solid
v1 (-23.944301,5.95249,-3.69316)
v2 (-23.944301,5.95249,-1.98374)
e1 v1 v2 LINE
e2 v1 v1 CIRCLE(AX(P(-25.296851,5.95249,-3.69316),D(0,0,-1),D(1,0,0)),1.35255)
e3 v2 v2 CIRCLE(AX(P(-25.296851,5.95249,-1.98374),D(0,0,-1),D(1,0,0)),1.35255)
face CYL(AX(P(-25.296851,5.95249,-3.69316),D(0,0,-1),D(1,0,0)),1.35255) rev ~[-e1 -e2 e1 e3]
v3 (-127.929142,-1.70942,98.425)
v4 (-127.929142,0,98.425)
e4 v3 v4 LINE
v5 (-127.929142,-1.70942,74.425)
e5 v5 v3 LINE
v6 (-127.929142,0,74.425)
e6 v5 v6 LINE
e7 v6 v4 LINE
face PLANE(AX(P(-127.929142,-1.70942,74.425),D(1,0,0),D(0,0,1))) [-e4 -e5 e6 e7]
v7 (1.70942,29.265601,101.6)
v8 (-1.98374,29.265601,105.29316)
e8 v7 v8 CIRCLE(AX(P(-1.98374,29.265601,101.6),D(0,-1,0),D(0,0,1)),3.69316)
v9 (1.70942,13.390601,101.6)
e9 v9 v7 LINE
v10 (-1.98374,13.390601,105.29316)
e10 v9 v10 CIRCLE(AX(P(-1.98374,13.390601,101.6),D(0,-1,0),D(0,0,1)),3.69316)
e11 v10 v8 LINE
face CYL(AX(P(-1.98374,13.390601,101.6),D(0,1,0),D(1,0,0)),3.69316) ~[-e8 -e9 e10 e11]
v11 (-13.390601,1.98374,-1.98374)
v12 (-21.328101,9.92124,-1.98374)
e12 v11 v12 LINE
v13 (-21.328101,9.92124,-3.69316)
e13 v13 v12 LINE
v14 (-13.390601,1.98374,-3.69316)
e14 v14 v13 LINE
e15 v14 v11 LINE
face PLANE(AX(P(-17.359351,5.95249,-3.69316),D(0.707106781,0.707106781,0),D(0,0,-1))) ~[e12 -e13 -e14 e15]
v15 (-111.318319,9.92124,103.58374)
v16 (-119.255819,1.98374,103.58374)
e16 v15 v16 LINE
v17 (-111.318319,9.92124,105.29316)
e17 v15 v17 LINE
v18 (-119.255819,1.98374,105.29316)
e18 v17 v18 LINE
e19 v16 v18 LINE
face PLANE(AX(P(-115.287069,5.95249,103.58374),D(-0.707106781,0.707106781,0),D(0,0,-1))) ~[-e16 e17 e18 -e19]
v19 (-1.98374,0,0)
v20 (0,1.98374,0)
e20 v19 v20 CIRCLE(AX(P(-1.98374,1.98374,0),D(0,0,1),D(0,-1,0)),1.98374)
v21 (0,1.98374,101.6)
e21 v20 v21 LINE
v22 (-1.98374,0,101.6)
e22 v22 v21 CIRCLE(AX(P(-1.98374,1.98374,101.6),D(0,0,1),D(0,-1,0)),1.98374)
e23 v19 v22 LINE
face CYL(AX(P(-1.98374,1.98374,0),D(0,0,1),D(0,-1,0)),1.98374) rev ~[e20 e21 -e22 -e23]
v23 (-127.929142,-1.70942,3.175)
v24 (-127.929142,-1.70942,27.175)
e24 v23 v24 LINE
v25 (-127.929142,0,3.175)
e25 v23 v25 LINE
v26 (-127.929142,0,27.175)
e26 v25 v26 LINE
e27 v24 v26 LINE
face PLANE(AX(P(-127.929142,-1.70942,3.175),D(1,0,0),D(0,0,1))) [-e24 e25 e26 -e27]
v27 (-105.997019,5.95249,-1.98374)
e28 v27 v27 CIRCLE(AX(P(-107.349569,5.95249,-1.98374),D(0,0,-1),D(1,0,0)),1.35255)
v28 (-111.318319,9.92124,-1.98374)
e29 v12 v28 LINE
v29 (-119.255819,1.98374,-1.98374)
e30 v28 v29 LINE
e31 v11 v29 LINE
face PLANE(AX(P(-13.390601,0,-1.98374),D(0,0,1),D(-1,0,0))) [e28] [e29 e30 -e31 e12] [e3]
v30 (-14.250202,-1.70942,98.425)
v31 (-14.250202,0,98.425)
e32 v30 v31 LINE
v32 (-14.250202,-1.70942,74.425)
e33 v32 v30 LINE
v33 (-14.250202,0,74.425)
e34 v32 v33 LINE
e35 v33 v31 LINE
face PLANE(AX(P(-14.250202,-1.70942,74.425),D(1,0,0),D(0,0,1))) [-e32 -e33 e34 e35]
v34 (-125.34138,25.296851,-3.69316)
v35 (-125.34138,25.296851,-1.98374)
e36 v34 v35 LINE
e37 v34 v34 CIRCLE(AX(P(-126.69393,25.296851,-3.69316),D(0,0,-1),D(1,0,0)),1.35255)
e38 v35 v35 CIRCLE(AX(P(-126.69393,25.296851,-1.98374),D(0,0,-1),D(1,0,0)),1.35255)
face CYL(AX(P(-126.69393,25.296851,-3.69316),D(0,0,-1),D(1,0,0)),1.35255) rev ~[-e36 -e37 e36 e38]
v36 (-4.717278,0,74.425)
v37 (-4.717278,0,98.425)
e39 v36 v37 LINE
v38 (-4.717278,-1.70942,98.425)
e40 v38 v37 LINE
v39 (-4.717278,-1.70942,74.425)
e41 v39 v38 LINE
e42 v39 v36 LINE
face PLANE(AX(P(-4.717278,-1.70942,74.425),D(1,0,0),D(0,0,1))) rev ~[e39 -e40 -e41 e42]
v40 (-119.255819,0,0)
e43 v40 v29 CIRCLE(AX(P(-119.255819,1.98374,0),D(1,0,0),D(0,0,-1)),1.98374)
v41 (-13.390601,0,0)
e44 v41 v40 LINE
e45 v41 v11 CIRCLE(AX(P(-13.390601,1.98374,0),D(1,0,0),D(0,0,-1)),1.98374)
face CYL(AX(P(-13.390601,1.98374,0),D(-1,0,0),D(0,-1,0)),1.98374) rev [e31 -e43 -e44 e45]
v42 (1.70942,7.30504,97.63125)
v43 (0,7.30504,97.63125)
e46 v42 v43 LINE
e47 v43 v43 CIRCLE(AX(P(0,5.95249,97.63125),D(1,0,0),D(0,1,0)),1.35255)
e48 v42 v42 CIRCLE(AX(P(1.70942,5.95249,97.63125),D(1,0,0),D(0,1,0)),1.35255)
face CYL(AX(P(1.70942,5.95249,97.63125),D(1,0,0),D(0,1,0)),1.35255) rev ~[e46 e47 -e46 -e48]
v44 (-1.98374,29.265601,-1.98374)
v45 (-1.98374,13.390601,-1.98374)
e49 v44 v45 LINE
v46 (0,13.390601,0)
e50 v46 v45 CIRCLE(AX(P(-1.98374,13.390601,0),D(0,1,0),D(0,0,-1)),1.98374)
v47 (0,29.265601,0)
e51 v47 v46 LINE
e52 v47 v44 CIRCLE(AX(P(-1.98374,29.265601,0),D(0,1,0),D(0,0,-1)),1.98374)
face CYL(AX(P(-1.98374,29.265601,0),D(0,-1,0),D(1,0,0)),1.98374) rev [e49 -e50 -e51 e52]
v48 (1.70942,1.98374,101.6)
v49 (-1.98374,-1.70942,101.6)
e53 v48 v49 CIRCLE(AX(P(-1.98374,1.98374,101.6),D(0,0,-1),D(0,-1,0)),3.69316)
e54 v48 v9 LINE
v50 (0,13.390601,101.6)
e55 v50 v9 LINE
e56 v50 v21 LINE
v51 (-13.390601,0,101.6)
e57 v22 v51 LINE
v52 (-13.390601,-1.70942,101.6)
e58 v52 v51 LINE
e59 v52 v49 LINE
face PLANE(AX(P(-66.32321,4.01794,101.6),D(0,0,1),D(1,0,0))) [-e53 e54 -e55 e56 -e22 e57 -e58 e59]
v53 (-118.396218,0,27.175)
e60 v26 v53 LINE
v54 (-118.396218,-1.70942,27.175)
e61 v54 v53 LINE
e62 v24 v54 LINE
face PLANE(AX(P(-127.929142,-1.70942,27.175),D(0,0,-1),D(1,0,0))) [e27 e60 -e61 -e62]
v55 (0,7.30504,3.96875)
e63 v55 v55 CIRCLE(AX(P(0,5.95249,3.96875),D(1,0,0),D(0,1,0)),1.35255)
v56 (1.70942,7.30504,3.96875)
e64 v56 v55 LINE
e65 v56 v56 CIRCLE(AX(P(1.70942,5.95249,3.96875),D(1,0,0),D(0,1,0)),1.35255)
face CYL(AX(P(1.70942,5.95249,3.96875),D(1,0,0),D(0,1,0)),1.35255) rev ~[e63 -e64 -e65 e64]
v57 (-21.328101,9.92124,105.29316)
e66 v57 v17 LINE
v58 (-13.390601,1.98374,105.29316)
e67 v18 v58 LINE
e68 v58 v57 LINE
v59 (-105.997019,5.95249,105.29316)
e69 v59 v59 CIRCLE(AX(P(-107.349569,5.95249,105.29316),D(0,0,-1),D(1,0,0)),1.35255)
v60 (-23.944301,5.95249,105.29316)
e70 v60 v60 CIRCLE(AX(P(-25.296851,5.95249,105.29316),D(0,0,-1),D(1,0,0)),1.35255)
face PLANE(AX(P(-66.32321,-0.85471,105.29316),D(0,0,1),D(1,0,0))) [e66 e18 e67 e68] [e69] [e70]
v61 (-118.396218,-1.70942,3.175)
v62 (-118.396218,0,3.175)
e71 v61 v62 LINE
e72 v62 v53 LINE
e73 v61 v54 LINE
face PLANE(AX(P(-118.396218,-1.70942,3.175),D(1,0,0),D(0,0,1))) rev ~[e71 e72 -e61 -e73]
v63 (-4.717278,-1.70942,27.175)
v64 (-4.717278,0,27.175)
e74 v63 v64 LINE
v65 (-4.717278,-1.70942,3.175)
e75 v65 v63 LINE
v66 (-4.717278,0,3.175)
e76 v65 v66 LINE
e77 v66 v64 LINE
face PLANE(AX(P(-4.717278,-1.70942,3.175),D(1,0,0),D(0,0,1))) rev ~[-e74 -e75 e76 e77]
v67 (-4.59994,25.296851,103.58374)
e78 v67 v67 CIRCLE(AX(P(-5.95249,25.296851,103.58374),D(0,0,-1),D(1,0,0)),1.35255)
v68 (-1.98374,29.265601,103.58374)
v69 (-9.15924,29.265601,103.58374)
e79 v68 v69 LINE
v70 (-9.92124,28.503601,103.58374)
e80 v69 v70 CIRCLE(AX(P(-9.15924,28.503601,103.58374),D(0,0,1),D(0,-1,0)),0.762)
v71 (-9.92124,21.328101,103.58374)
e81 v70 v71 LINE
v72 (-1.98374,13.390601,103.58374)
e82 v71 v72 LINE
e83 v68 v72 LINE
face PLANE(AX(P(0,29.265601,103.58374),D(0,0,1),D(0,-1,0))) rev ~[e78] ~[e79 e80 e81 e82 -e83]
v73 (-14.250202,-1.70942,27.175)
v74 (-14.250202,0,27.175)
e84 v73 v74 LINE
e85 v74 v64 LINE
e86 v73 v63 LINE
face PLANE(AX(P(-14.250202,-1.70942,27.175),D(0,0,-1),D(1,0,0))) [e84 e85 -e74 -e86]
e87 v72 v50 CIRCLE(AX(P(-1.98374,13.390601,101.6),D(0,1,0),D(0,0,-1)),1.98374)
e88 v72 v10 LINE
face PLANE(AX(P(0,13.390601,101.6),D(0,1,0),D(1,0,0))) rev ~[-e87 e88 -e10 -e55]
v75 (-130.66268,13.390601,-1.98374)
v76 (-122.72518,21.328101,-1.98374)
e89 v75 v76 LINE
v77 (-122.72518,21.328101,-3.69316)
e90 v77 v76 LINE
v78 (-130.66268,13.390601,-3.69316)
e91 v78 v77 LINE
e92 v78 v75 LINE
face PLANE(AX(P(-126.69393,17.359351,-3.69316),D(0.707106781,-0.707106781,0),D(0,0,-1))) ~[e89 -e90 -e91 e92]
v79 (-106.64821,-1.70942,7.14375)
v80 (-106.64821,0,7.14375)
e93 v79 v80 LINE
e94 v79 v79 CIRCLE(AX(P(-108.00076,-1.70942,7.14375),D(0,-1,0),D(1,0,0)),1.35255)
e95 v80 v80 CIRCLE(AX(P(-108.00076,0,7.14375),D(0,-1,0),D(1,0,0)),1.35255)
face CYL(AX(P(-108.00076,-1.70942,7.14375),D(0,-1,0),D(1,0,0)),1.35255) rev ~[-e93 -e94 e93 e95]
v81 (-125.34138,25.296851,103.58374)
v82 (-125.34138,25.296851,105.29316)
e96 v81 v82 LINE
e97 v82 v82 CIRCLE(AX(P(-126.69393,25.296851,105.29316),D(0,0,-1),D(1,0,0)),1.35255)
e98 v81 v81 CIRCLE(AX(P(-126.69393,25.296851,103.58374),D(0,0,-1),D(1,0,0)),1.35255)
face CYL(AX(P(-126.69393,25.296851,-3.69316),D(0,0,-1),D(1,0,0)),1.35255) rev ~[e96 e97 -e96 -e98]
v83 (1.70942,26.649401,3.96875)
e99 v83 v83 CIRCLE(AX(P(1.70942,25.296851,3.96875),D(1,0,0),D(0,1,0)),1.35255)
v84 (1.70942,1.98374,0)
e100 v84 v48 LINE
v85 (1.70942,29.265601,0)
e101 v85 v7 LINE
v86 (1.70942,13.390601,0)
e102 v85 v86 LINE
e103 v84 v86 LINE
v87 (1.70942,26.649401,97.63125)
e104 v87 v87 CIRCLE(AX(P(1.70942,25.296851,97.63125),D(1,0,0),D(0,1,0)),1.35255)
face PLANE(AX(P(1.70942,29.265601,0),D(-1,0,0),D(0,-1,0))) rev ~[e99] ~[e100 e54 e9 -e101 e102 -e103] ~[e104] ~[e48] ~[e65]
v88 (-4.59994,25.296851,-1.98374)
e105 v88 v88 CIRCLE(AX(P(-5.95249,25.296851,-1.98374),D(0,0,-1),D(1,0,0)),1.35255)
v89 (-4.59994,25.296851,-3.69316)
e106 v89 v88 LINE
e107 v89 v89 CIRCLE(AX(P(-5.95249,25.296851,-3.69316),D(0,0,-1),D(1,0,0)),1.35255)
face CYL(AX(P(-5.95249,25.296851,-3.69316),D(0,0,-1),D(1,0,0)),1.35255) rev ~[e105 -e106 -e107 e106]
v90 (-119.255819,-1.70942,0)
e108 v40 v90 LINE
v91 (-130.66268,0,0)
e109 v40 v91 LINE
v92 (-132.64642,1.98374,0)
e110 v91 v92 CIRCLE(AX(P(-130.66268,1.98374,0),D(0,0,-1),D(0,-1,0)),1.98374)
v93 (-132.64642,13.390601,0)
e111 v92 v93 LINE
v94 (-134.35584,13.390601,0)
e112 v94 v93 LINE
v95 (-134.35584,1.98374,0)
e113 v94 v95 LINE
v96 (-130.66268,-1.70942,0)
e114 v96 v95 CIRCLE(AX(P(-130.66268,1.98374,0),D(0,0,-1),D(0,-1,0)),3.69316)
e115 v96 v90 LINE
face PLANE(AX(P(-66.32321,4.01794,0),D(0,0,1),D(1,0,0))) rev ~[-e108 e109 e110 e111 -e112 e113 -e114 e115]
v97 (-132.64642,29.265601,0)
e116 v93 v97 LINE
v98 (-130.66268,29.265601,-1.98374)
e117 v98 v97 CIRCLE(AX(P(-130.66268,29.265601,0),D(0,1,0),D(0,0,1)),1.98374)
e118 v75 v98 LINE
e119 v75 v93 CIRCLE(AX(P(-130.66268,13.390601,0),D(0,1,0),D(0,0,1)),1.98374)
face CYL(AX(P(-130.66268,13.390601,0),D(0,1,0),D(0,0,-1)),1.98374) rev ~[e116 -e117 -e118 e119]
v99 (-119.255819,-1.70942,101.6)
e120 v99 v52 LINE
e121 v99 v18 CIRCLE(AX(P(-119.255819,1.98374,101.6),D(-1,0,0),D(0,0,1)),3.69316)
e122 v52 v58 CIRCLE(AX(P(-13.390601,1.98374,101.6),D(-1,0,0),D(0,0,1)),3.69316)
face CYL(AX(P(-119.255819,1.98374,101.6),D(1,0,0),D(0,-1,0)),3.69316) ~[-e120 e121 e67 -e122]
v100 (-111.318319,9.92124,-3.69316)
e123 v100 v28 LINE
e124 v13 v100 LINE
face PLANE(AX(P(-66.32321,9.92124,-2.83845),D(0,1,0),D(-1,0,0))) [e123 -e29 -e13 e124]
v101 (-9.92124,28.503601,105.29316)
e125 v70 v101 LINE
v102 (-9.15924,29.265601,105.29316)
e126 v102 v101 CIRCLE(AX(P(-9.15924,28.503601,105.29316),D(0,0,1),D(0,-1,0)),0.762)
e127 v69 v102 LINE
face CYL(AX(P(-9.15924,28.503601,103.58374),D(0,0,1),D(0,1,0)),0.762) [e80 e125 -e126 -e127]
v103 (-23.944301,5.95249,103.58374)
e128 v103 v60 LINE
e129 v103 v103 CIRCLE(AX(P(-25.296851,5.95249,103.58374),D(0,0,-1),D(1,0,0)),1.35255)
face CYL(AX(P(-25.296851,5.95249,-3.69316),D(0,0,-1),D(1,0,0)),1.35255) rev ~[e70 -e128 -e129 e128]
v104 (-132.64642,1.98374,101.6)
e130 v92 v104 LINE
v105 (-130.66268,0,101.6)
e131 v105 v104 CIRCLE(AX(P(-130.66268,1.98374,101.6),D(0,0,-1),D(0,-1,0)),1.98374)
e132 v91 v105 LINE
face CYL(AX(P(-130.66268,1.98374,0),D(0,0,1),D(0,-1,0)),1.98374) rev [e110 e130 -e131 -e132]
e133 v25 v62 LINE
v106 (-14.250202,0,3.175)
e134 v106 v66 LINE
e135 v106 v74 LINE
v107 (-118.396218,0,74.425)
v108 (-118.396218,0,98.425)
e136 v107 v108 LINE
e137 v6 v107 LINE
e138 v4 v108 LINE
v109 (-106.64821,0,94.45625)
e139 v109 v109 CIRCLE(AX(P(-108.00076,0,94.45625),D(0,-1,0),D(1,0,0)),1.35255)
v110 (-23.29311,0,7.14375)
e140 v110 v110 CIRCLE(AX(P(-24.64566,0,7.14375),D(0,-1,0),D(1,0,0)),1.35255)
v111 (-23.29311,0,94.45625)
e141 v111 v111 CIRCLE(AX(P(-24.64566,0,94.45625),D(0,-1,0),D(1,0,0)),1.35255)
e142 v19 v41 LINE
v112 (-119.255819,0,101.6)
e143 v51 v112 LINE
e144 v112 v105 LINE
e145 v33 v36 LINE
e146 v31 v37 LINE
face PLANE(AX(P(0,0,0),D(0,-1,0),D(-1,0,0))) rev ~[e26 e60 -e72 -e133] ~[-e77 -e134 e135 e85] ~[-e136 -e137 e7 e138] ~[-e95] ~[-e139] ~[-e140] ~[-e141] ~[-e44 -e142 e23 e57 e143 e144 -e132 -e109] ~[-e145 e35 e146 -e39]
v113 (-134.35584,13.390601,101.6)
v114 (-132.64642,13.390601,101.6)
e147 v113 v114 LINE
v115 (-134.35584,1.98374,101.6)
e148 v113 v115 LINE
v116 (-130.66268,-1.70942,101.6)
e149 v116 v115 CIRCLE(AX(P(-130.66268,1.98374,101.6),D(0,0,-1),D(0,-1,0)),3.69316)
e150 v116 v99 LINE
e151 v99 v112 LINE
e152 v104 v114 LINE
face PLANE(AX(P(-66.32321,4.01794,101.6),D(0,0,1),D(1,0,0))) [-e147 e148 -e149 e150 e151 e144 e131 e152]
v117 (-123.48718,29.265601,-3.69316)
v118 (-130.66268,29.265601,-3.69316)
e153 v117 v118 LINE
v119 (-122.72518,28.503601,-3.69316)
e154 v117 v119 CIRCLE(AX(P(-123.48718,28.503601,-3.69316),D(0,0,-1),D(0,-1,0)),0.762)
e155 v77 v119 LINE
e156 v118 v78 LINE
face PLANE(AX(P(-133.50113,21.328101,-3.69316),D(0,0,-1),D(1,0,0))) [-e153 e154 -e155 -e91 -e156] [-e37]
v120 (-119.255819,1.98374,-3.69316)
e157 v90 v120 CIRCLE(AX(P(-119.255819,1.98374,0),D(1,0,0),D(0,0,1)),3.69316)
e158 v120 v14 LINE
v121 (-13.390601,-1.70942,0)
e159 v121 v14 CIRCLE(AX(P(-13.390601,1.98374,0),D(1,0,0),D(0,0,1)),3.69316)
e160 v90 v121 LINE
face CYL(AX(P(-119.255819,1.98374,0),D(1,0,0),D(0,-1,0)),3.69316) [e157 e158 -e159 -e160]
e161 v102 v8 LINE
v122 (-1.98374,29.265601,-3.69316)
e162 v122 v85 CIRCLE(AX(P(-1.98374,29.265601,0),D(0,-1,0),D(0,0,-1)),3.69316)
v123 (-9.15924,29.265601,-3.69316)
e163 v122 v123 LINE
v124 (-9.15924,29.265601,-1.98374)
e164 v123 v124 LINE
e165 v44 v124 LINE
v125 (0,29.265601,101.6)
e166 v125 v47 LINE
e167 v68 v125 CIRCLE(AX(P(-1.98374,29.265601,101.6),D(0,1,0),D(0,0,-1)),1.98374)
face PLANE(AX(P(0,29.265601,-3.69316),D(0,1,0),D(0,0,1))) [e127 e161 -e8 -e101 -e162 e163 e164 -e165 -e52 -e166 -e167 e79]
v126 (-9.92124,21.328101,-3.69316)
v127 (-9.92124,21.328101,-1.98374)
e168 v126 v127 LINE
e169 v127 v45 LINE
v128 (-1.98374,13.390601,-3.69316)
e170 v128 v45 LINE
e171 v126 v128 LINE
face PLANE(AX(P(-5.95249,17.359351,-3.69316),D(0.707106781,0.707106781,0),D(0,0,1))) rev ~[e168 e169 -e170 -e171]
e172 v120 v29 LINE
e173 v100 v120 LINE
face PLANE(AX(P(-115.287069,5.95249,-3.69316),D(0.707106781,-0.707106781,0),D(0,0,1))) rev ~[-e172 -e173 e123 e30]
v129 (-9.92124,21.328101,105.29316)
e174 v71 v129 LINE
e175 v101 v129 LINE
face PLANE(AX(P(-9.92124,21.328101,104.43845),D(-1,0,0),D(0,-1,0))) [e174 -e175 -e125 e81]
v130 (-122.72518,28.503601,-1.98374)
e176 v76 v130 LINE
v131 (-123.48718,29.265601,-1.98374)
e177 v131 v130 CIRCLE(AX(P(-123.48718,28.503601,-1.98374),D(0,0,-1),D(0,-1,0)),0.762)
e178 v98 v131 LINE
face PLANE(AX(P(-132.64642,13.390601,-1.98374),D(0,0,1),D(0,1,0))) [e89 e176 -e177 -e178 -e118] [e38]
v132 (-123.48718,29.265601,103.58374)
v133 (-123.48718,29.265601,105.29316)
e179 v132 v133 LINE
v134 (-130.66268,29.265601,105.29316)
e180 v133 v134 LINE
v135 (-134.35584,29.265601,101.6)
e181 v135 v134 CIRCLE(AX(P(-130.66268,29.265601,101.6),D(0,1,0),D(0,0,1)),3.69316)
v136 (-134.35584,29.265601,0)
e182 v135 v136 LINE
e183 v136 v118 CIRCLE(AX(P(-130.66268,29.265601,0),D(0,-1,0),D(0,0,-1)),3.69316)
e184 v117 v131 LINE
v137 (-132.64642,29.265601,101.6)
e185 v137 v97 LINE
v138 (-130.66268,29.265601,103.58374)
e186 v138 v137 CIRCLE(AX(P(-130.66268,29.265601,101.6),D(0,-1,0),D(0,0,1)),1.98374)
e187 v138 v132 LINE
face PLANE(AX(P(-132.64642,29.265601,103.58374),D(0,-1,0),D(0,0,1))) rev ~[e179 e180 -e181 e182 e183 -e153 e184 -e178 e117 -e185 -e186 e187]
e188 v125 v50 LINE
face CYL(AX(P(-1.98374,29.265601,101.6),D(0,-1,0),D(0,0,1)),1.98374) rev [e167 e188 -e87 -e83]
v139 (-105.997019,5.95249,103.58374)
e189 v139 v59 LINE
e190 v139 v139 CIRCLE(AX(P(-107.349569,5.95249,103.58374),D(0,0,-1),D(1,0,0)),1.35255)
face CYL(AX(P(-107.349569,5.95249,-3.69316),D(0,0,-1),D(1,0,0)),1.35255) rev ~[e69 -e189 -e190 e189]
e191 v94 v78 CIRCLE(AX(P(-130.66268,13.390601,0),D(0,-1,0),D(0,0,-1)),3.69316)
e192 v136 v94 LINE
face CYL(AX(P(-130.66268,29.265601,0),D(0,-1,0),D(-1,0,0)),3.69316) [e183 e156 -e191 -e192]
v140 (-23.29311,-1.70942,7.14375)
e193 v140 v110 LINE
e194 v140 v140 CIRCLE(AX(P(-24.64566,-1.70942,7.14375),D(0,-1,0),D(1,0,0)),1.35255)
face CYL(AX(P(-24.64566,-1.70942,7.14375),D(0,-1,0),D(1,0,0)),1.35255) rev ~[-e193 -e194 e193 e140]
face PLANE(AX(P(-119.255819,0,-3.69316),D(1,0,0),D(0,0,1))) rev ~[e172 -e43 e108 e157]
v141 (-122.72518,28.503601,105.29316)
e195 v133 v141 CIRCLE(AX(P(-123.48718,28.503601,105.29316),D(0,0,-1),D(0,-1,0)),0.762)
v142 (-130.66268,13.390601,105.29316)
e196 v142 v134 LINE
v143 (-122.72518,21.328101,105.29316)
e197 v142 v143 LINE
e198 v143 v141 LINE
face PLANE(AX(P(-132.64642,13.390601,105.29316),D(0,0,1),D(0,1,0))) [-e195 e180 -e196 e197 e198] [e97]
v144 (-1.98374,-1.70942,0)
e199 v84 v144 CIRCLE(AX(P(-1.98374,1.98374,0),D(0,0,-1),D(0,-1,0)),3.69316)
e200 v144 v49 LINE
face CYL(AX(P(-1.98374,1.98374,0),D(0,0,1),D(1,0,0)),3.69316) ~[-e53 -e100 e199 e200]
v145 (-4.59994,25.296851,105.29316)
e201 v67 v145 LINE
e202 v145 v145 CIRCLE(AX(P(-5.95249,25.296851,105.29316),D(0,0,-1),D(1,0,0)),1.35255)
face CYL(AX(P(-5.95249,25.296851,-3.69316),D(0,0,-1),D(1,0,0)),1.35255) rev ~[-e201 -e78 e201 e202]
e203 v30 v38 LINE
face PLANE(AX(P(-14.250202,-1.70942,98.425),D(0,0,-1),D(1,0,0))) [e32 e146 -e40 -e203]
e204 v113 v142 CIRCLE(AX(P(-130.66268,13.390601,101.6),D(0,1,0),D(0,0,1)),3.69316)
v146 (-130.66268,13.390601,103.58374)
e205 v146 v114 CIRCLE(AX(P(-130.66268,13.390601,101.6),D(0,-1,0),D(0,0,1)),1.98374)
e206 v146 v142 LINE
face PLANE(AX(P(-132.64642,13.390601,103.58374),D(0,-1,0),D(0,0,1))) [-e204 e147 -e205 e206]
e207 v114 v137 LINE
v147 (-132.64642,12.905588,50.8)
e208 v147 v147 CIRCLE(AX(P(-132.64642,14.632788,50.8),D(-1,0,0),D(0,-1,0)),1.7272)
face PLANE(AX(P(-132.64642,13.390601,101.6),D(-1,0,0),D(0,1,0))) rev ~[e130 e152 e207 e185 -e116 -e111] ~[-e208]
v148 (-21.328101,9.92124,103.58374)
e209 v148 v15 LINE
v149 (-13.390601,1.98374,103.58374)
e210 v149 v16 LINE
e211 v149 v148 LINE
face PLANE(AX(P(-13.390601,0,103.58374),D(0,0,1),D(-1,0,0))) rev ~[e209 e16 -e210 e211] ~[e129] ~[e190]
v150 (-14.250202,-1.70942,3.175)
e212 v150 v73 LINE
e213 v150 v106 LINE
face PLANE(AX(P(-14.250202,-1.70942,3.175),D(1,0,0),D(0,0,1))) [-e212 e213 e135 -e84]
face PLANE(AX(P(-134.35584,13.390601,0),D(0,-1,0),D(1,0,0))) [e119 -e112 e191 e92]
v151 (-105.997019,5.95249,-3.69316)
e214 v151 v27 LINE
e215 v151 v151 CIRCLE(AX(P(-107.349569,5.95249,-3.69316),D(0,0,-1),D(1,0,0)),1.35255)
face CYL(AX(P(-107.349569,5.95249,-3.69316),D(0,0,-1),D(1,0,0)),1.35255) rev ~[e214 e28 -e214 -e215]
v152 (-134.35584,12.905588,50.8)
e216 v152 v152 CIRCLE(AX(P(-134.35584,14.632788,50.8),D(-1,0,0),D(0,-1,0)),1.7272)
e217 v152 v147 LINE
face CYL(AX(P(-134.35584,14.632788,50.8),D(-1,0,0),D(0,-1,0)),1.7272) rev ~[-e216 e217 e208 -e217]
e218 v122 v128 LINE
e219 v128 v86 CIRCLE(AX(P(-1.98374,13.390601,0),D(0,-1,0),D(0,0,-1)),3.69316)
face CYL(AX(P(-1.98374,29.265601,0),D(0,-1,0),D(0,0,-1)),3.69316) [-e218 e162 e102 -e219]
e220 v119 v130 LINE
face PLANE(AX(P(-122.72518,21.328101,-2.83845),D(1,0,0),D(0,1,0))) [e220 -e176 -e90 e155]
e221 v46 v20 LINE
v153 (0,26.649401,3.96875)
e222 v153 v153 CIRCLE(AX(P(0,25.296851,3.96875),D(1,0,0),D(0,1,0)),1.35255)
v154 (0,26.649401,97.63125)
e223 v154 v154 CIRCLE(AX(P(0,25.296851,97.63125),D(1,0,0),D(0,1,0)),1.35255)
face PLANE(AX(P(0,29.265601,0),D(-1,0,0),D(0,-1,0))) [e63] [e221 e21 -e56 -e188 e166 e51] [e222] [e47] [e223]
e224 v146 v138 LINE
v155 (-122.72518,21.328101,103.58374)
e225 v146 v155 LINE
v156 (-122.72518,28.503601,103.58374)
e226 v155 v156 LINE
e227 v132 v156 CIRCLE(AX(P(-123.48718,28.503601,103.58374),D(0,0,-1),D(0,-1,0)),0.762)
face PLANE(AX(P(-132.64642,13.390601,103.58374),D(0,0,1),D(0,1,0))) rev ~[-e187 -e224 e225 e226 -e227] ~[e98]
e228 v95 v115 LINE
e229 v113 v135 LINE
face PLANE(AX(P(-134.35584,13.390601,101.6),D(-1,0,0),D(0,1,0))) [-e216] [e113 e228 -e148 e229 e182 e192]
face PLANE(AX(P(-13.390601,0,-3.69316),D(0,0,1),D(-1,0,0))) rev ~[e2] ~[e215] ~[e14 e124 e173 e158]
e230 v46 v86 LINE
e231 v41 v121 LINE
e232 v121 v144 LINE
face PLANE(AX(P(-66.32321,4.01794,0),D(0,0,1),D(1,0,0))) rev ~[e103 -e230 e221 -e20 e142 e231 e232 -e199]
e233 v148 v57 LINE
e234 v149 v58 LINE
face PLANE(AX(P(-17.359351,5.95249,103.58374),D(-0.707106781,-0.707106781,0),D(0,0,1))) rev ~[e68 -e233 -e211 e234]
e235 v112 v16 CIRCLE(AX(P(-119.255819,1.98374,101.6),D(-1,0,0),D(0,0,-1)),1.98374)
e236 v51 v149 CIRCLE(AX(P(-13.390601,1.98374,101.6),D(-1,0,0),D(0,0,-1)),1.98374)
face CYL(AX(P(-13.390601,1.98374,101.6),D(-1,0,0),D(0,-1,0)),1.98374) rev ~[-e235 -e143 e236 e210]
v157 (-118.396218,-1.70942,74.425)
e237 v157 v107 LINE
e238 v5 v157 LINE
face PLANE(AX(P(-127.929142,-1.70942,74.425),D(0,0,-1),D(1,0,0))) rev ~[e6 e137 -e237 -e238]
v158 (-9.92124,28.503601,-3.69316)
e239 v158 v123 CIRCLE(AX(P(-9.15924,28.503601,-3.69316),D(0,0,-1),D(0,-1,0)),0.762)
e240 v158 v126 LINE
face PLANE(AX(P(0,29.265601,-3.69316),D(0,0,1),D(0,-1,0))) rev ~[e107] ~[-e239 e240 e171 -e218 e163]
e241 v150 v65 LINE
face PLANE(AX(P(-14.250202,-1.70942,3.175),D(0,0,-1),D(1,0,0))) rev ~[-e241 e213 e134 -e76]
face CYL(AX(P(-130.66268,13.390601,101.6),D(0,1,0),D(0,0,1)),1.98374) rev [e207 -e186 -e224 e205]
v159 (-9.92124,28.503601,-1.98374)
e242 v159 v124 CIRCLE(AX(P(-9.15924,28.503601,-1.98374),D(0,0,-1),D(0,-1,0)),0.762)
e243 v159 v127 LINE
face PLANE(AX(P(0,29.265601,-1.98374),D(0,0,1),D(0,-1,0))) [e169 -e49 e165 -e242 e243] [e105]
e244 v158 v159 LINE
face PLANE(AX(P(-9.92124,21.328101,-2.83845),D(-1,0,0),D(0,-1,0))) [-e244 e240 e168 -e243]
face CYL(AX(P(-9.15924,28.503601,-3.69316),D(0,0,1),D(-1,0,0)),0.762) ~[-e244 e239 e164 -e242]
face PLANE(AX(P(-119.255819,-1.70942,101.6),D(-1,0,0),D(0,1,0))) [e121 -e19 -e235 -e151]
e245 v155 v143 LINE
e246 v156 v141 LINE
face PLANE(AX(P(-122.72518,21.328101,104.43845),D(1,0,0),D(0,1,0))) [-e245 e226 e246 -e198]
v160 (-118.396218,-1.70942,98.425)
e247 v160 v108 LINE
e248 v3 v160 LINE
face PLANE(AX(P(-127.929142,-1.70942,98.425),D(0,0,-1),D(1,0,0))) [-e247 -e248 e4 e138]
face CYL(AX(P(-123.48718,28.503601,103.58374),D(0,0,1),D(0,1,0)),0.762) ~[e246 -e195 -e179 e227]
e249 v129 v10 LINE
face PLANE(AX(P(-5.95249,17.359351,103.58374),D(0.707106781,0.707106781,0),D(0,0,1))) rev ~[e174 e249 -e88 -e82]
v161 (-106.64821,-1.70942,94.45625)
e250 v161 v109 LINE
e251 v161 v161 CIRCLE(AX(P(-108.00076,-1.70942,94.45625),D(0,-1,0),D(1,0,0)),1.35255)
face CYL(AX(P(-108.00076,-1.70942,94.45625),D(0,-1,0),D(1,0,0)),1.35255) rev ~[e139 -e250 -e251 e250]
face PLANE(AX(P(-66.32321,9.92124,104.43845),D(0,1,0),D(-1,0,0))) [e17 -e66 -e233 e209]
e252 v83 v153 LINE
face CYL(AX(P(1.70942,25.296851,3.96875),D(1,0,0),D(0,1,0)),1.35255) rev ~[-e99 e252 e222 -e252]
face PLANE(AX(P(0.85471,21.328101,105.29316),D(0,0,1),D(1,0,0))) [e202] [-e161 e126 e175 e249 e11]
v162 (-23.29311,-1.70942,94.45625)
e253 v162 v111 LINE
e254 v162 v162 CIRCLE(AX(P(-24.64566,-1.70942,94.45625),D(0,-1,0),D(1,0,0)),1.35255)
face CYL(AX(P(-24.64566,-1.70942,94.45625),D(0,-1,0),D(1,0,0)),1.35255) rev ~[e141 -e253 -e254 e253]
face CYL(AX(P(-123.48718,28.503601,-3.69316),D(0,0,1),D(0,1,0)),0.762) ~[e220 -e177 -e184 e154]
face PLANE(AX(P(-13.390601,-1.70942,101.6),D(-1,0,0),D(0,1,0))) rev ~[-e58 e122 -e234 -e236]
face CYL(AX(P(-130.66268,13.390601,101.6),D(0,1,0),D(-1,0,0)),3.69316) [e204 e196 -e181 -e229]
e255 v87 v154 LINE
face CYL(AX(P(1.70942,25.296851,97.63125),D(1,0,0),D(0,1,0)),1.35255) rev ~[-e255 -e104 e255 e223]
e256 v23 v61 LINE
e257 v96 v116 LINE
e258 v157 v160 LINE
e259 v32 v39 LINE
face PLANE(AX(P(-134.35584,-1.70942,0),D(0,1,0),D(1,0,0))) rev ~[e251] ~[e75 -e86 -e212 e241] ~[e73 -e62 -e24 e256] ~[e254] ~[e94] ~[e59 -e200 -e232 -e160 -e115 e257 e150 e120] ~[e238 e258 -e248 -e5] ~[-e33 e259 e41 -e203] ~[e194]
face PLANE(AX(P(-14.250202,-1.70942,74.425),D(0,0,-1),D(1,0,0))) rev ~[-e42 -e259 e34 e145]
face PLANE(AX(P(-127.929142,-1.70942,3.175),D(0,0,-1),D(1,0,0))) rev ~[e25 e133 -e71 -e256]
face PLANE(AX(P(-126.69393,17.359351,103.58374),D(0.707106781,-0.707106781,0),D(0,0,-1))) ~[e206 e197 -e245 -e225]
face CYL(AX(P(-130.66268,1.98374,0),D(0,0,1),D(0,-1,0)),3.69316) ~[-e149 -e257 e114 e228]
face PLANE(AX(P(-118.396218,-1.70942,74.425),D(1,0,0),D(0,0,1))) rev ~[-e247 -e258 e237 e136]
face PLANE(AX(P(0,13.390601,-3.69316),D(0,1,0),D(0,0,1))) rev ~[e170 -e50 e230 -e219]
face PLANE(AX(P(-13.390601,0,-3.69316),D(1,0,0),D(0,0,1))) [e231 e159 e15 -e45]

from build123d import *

# Parameters (mm, degrees)
F1_DEPTH  = 101.6
F2_W      = 1.70942
F2_H      = 15.875
F2_W_2    = 105.865218
F2_H_2    = 1.70942
F3_DEPTH  = 3.69316
F4_W      = 1.70942
F4_H      = 15.875
F4_W_2    = 105.865218
F4_H_2    = 1.70942
F5_DEPTH  = 3.69316
F6_W      = 105.865218
F6_H      = 1.70942
F7_DEPTH  = 9.92124
F8_W      = 15.875
F8_H      = 1.70942
F9_DEPTH  = 9.92124
F10_W     = 15.875
F10_H     = 1.70942
F11_DEPTH = 9.92124
F12_R     = 1.98374
F13_R     = 3.69316
F14_SIZE  = 7.9375
F15_R     = 1.35255
F16_DEPTH = 108.98632
F17_R     = 0.762
F18_R     = 1.35255
F19_DEPTH = 1.70942
F20_W     = 9.532924
F20_H     = 24
F20_R     = 1.35255
F21_DEPTH = 1.70942
F22_R     = 1.7272
F23_DEPTH = 1.70942


with BuildPart() as f1:
    # F0 (on Top) → F1 (new body)
    with BuildSketch(Plane.XY):
        Polygon((0, 29.265601), (0, 0), (-132.64642, 0), (-132.64642, 29.265601), (-134.35584, 29.265601), (-134.35584, -1.70942), (1.70942, -1.70942), (1.70942, 29.265601), align=None)
    extrude(amount=F1_DEPTH)

    # F2 (on face) → F3 (join)
    with BuildSketch(Plane(origin=(0, 0, 0), x_dir=(1, 0, 0), z_dir=(0, 0, -1))):
        with Locations((0.85471, -21.328101)):
            Rectangle(F2_W, F2_H)
        with Locations((-66.32321, 0.85471)):
            Rectangle(F2_W_2, F2_H_2)
        with Locations((-133.50113, -21.328101)):
            Rectangle(F2_W, F2_H)
    extrude(amount=F3_DEPTH)

    # F4 (on face) → F5 (join)
    with BuildSketch(Plane.XY.offset(101.6)):
        with Locations((-133.50113, 21.328101)):
            Rectangle(F4_W, F4_H)
        with Locations((0.85471, 21.328101)):
            Rectangle(F4_W, F4_H)
        with Locations((-66.32321, -0.85471)):
            Rectangle(F4_W_2, F4_H_2)
    extrude(amount=F5_DEPTH)

    # F6 (on face) → F7 (join)
    with BuildSketch(Plane(origin=(0, 0, 0), x_dir=(-1, 0, 0), z_dir=(0, 1, 0))):
        with Locations((66.32321, -2.83845)):
            Rectangle(F6_W, F6_H)
        with Locations((66.32321, 104.43845)):
            Rectangle(F6_W, F6_H)
    extrude(amount=F7_DEPTH)

    # F8 (on face) → F9 (join)
    with BuildSketch(Plane.YZ.offset(-132.64642)):
        with Locations((21.328101, 104.43845)):
            Rectangle(F8_W, F8_H)
        with Locations((21.328101, -2.83845)):
            Rectangle(F8_W, F8_H)
    extrude(amount=F9_DEPTH)

    # F10 (on face) → F11 (join)
    with BuildSketch(Plane(origin=(0, 0, 0), x_dir=(0, -1, 0), z_dir=(-1, 0, 0))):
        with Locations((-21.328101, -2.83845)):
            Rectangle(F10_W, F10_H)
        with Locations((-21.328101, 104.43845)):
            Rectangle(F10_W, F10_H)
    extrude(amount=F11_DEPTH)

    # F12
    f12_edges = [f1.edges().sort_by_distance(p)[0] for p in [
        (0, 21.328101, 103.58374),
        (-66.32321, 0, 103.58374),
        (-132.64642, 21.328101, 103.58374),
        (-132.64642, 21.328101, -1.98374),
        (-66.32321, 0, -1.98374),
        (0, 21.328101, -1.98374),
        (0, 0, 50.8),
        (-132.64642, 0, 50.8),
    ]]
    fillet(f12_edges, radius=F12_R)

    # F13
    f13_edges = [f1.edges().sort_by_distance(p)[0] for p in [
        (-134.35584, 21.328101, -3.69316),
        (-66.32321, -1.70942, -3.69316),
        (-134.35584, -1.70942, 50.8),
        (-66.32321, -1.70942, 105.29316),
        (-134.35584, 21.328101, 105.29316),
        (1.70942, 21.328101, -3.69316),
        (1.70942, -1.70942, 50.8),
        (1.70942, 21.328101, 105.29316),
    ]]
    fillet(f13_edges, radius=F13_R)

    # F14
    f14_edges = [f1.edges().sort_by_distance(p)[0] for p in [
        (-122.72518, 13.390601, 104.43845),
        (-119.255819, 9.92124, 104.43845),
        (-13.390601, 9.92124, 104.43845),
        (-9.92124, 13.390601, 104.43845),
        (-13.390601, 9.92124, -2.83845),
        (-9.92124, 13.390601, -2.83845),
        (-122.72518, 13.390601, -2.83845),
        (-119.255819, 9.92124, -2.83845),
    ]]
    chamfer(f14_edges, length=F14_SIZE)

    # F15 (on face) → F16 (cut, through all)
    with BuildSketch(Plane(origin=(0, 0, -3.69316), x_dir=(1, 0, 0), z_dir=(0, 0, -1))):
        with Locations((-25.296851, -5.95249)):
            Circle(F15_R)
        with Locations((-107.349569, -5.95249)):
            Circle(F15_R)
        with Locations((-126.69393, -25.296851)):
            Circle(F15_R)
        with Locations((-5.95249, -25.296851)):
            Circle(F15_R)
    extrude(amount=-F16_DEPTH, mode=Mode.SUBTRACT)

    # F17
    f17_edges = [f1.edges().sort_by_distance(p)[0] for p in [
        (-122.72518, 29.265601, -2.83845),
        (-122.72518, 29.265601, 104.43845),
        (-9.92124, 29.265601, 104.43845),
        (-9.92124, 29.265601, -2.83845),
    ]]
    fillet(f17_edges, radius=F17_R)

    # F18 (on face) → F19 (cut, through all)
    with BuildSketch(Plane.YZ.offset(1.70942)):
        with Locations((25.296851, 97.63125)):
            Circle(F18_R)
        with Locations((25.296851, 3.96875)):
            Circle(F18_R)
        with Locations((5.95249, 3.96875)):
            Circle(F18_R)
        with Locations((5.95249, 97.63125)):
            Circle(F18_R)
    extrude(amount=-F19_DEPTH, mode=Mode.SUBTRACT)

    # F20 (on face) → F21 (cut, through all)
    with BuildSketch(Plane.XZ.offset(1.70942)):
        with Locations((-9.48374, 15.175)):
            Rectangle(F20_W, F20_H)
        with Locations((-123.16268, 15.175)):
            Rectangle(F20_W, F20_H)
        with Locations((-123.16268, 86.425)):
            Rectangle(F20_W, F20_H)
        with Locations((-9.48374, 86.425)):
            Rectangle(F20_W, F20_H)
        with Locations((-24.64566, 7.14375)):
            Circle(F20_R)
        with Locations((-108.00076, 7.14375)):
            Circle(F20_R)
        with Locations((-108.00076, 94.45625)):
            Circle(F20_R)
        with Locations((-24.64566, 94.45625)):
            Circle(F20_R)
    extrude(amount=-F21_DEPTH, mode=Mode.SUBTRACT)

    # F22 (on face) → F23 (cut, through all)
    with BuildSketch(Plane(origin=(-134.35584, 0, 0), x_dir=(0, -1, 0), z_dir=(-1, 0, 0))):
        with Locations((-14.632788, 50.8)):
            Circle(F22_R)
    extrude(amount=-F23_DEPTH, mode=Mode.SUBTRACT)


solid = f1.part
